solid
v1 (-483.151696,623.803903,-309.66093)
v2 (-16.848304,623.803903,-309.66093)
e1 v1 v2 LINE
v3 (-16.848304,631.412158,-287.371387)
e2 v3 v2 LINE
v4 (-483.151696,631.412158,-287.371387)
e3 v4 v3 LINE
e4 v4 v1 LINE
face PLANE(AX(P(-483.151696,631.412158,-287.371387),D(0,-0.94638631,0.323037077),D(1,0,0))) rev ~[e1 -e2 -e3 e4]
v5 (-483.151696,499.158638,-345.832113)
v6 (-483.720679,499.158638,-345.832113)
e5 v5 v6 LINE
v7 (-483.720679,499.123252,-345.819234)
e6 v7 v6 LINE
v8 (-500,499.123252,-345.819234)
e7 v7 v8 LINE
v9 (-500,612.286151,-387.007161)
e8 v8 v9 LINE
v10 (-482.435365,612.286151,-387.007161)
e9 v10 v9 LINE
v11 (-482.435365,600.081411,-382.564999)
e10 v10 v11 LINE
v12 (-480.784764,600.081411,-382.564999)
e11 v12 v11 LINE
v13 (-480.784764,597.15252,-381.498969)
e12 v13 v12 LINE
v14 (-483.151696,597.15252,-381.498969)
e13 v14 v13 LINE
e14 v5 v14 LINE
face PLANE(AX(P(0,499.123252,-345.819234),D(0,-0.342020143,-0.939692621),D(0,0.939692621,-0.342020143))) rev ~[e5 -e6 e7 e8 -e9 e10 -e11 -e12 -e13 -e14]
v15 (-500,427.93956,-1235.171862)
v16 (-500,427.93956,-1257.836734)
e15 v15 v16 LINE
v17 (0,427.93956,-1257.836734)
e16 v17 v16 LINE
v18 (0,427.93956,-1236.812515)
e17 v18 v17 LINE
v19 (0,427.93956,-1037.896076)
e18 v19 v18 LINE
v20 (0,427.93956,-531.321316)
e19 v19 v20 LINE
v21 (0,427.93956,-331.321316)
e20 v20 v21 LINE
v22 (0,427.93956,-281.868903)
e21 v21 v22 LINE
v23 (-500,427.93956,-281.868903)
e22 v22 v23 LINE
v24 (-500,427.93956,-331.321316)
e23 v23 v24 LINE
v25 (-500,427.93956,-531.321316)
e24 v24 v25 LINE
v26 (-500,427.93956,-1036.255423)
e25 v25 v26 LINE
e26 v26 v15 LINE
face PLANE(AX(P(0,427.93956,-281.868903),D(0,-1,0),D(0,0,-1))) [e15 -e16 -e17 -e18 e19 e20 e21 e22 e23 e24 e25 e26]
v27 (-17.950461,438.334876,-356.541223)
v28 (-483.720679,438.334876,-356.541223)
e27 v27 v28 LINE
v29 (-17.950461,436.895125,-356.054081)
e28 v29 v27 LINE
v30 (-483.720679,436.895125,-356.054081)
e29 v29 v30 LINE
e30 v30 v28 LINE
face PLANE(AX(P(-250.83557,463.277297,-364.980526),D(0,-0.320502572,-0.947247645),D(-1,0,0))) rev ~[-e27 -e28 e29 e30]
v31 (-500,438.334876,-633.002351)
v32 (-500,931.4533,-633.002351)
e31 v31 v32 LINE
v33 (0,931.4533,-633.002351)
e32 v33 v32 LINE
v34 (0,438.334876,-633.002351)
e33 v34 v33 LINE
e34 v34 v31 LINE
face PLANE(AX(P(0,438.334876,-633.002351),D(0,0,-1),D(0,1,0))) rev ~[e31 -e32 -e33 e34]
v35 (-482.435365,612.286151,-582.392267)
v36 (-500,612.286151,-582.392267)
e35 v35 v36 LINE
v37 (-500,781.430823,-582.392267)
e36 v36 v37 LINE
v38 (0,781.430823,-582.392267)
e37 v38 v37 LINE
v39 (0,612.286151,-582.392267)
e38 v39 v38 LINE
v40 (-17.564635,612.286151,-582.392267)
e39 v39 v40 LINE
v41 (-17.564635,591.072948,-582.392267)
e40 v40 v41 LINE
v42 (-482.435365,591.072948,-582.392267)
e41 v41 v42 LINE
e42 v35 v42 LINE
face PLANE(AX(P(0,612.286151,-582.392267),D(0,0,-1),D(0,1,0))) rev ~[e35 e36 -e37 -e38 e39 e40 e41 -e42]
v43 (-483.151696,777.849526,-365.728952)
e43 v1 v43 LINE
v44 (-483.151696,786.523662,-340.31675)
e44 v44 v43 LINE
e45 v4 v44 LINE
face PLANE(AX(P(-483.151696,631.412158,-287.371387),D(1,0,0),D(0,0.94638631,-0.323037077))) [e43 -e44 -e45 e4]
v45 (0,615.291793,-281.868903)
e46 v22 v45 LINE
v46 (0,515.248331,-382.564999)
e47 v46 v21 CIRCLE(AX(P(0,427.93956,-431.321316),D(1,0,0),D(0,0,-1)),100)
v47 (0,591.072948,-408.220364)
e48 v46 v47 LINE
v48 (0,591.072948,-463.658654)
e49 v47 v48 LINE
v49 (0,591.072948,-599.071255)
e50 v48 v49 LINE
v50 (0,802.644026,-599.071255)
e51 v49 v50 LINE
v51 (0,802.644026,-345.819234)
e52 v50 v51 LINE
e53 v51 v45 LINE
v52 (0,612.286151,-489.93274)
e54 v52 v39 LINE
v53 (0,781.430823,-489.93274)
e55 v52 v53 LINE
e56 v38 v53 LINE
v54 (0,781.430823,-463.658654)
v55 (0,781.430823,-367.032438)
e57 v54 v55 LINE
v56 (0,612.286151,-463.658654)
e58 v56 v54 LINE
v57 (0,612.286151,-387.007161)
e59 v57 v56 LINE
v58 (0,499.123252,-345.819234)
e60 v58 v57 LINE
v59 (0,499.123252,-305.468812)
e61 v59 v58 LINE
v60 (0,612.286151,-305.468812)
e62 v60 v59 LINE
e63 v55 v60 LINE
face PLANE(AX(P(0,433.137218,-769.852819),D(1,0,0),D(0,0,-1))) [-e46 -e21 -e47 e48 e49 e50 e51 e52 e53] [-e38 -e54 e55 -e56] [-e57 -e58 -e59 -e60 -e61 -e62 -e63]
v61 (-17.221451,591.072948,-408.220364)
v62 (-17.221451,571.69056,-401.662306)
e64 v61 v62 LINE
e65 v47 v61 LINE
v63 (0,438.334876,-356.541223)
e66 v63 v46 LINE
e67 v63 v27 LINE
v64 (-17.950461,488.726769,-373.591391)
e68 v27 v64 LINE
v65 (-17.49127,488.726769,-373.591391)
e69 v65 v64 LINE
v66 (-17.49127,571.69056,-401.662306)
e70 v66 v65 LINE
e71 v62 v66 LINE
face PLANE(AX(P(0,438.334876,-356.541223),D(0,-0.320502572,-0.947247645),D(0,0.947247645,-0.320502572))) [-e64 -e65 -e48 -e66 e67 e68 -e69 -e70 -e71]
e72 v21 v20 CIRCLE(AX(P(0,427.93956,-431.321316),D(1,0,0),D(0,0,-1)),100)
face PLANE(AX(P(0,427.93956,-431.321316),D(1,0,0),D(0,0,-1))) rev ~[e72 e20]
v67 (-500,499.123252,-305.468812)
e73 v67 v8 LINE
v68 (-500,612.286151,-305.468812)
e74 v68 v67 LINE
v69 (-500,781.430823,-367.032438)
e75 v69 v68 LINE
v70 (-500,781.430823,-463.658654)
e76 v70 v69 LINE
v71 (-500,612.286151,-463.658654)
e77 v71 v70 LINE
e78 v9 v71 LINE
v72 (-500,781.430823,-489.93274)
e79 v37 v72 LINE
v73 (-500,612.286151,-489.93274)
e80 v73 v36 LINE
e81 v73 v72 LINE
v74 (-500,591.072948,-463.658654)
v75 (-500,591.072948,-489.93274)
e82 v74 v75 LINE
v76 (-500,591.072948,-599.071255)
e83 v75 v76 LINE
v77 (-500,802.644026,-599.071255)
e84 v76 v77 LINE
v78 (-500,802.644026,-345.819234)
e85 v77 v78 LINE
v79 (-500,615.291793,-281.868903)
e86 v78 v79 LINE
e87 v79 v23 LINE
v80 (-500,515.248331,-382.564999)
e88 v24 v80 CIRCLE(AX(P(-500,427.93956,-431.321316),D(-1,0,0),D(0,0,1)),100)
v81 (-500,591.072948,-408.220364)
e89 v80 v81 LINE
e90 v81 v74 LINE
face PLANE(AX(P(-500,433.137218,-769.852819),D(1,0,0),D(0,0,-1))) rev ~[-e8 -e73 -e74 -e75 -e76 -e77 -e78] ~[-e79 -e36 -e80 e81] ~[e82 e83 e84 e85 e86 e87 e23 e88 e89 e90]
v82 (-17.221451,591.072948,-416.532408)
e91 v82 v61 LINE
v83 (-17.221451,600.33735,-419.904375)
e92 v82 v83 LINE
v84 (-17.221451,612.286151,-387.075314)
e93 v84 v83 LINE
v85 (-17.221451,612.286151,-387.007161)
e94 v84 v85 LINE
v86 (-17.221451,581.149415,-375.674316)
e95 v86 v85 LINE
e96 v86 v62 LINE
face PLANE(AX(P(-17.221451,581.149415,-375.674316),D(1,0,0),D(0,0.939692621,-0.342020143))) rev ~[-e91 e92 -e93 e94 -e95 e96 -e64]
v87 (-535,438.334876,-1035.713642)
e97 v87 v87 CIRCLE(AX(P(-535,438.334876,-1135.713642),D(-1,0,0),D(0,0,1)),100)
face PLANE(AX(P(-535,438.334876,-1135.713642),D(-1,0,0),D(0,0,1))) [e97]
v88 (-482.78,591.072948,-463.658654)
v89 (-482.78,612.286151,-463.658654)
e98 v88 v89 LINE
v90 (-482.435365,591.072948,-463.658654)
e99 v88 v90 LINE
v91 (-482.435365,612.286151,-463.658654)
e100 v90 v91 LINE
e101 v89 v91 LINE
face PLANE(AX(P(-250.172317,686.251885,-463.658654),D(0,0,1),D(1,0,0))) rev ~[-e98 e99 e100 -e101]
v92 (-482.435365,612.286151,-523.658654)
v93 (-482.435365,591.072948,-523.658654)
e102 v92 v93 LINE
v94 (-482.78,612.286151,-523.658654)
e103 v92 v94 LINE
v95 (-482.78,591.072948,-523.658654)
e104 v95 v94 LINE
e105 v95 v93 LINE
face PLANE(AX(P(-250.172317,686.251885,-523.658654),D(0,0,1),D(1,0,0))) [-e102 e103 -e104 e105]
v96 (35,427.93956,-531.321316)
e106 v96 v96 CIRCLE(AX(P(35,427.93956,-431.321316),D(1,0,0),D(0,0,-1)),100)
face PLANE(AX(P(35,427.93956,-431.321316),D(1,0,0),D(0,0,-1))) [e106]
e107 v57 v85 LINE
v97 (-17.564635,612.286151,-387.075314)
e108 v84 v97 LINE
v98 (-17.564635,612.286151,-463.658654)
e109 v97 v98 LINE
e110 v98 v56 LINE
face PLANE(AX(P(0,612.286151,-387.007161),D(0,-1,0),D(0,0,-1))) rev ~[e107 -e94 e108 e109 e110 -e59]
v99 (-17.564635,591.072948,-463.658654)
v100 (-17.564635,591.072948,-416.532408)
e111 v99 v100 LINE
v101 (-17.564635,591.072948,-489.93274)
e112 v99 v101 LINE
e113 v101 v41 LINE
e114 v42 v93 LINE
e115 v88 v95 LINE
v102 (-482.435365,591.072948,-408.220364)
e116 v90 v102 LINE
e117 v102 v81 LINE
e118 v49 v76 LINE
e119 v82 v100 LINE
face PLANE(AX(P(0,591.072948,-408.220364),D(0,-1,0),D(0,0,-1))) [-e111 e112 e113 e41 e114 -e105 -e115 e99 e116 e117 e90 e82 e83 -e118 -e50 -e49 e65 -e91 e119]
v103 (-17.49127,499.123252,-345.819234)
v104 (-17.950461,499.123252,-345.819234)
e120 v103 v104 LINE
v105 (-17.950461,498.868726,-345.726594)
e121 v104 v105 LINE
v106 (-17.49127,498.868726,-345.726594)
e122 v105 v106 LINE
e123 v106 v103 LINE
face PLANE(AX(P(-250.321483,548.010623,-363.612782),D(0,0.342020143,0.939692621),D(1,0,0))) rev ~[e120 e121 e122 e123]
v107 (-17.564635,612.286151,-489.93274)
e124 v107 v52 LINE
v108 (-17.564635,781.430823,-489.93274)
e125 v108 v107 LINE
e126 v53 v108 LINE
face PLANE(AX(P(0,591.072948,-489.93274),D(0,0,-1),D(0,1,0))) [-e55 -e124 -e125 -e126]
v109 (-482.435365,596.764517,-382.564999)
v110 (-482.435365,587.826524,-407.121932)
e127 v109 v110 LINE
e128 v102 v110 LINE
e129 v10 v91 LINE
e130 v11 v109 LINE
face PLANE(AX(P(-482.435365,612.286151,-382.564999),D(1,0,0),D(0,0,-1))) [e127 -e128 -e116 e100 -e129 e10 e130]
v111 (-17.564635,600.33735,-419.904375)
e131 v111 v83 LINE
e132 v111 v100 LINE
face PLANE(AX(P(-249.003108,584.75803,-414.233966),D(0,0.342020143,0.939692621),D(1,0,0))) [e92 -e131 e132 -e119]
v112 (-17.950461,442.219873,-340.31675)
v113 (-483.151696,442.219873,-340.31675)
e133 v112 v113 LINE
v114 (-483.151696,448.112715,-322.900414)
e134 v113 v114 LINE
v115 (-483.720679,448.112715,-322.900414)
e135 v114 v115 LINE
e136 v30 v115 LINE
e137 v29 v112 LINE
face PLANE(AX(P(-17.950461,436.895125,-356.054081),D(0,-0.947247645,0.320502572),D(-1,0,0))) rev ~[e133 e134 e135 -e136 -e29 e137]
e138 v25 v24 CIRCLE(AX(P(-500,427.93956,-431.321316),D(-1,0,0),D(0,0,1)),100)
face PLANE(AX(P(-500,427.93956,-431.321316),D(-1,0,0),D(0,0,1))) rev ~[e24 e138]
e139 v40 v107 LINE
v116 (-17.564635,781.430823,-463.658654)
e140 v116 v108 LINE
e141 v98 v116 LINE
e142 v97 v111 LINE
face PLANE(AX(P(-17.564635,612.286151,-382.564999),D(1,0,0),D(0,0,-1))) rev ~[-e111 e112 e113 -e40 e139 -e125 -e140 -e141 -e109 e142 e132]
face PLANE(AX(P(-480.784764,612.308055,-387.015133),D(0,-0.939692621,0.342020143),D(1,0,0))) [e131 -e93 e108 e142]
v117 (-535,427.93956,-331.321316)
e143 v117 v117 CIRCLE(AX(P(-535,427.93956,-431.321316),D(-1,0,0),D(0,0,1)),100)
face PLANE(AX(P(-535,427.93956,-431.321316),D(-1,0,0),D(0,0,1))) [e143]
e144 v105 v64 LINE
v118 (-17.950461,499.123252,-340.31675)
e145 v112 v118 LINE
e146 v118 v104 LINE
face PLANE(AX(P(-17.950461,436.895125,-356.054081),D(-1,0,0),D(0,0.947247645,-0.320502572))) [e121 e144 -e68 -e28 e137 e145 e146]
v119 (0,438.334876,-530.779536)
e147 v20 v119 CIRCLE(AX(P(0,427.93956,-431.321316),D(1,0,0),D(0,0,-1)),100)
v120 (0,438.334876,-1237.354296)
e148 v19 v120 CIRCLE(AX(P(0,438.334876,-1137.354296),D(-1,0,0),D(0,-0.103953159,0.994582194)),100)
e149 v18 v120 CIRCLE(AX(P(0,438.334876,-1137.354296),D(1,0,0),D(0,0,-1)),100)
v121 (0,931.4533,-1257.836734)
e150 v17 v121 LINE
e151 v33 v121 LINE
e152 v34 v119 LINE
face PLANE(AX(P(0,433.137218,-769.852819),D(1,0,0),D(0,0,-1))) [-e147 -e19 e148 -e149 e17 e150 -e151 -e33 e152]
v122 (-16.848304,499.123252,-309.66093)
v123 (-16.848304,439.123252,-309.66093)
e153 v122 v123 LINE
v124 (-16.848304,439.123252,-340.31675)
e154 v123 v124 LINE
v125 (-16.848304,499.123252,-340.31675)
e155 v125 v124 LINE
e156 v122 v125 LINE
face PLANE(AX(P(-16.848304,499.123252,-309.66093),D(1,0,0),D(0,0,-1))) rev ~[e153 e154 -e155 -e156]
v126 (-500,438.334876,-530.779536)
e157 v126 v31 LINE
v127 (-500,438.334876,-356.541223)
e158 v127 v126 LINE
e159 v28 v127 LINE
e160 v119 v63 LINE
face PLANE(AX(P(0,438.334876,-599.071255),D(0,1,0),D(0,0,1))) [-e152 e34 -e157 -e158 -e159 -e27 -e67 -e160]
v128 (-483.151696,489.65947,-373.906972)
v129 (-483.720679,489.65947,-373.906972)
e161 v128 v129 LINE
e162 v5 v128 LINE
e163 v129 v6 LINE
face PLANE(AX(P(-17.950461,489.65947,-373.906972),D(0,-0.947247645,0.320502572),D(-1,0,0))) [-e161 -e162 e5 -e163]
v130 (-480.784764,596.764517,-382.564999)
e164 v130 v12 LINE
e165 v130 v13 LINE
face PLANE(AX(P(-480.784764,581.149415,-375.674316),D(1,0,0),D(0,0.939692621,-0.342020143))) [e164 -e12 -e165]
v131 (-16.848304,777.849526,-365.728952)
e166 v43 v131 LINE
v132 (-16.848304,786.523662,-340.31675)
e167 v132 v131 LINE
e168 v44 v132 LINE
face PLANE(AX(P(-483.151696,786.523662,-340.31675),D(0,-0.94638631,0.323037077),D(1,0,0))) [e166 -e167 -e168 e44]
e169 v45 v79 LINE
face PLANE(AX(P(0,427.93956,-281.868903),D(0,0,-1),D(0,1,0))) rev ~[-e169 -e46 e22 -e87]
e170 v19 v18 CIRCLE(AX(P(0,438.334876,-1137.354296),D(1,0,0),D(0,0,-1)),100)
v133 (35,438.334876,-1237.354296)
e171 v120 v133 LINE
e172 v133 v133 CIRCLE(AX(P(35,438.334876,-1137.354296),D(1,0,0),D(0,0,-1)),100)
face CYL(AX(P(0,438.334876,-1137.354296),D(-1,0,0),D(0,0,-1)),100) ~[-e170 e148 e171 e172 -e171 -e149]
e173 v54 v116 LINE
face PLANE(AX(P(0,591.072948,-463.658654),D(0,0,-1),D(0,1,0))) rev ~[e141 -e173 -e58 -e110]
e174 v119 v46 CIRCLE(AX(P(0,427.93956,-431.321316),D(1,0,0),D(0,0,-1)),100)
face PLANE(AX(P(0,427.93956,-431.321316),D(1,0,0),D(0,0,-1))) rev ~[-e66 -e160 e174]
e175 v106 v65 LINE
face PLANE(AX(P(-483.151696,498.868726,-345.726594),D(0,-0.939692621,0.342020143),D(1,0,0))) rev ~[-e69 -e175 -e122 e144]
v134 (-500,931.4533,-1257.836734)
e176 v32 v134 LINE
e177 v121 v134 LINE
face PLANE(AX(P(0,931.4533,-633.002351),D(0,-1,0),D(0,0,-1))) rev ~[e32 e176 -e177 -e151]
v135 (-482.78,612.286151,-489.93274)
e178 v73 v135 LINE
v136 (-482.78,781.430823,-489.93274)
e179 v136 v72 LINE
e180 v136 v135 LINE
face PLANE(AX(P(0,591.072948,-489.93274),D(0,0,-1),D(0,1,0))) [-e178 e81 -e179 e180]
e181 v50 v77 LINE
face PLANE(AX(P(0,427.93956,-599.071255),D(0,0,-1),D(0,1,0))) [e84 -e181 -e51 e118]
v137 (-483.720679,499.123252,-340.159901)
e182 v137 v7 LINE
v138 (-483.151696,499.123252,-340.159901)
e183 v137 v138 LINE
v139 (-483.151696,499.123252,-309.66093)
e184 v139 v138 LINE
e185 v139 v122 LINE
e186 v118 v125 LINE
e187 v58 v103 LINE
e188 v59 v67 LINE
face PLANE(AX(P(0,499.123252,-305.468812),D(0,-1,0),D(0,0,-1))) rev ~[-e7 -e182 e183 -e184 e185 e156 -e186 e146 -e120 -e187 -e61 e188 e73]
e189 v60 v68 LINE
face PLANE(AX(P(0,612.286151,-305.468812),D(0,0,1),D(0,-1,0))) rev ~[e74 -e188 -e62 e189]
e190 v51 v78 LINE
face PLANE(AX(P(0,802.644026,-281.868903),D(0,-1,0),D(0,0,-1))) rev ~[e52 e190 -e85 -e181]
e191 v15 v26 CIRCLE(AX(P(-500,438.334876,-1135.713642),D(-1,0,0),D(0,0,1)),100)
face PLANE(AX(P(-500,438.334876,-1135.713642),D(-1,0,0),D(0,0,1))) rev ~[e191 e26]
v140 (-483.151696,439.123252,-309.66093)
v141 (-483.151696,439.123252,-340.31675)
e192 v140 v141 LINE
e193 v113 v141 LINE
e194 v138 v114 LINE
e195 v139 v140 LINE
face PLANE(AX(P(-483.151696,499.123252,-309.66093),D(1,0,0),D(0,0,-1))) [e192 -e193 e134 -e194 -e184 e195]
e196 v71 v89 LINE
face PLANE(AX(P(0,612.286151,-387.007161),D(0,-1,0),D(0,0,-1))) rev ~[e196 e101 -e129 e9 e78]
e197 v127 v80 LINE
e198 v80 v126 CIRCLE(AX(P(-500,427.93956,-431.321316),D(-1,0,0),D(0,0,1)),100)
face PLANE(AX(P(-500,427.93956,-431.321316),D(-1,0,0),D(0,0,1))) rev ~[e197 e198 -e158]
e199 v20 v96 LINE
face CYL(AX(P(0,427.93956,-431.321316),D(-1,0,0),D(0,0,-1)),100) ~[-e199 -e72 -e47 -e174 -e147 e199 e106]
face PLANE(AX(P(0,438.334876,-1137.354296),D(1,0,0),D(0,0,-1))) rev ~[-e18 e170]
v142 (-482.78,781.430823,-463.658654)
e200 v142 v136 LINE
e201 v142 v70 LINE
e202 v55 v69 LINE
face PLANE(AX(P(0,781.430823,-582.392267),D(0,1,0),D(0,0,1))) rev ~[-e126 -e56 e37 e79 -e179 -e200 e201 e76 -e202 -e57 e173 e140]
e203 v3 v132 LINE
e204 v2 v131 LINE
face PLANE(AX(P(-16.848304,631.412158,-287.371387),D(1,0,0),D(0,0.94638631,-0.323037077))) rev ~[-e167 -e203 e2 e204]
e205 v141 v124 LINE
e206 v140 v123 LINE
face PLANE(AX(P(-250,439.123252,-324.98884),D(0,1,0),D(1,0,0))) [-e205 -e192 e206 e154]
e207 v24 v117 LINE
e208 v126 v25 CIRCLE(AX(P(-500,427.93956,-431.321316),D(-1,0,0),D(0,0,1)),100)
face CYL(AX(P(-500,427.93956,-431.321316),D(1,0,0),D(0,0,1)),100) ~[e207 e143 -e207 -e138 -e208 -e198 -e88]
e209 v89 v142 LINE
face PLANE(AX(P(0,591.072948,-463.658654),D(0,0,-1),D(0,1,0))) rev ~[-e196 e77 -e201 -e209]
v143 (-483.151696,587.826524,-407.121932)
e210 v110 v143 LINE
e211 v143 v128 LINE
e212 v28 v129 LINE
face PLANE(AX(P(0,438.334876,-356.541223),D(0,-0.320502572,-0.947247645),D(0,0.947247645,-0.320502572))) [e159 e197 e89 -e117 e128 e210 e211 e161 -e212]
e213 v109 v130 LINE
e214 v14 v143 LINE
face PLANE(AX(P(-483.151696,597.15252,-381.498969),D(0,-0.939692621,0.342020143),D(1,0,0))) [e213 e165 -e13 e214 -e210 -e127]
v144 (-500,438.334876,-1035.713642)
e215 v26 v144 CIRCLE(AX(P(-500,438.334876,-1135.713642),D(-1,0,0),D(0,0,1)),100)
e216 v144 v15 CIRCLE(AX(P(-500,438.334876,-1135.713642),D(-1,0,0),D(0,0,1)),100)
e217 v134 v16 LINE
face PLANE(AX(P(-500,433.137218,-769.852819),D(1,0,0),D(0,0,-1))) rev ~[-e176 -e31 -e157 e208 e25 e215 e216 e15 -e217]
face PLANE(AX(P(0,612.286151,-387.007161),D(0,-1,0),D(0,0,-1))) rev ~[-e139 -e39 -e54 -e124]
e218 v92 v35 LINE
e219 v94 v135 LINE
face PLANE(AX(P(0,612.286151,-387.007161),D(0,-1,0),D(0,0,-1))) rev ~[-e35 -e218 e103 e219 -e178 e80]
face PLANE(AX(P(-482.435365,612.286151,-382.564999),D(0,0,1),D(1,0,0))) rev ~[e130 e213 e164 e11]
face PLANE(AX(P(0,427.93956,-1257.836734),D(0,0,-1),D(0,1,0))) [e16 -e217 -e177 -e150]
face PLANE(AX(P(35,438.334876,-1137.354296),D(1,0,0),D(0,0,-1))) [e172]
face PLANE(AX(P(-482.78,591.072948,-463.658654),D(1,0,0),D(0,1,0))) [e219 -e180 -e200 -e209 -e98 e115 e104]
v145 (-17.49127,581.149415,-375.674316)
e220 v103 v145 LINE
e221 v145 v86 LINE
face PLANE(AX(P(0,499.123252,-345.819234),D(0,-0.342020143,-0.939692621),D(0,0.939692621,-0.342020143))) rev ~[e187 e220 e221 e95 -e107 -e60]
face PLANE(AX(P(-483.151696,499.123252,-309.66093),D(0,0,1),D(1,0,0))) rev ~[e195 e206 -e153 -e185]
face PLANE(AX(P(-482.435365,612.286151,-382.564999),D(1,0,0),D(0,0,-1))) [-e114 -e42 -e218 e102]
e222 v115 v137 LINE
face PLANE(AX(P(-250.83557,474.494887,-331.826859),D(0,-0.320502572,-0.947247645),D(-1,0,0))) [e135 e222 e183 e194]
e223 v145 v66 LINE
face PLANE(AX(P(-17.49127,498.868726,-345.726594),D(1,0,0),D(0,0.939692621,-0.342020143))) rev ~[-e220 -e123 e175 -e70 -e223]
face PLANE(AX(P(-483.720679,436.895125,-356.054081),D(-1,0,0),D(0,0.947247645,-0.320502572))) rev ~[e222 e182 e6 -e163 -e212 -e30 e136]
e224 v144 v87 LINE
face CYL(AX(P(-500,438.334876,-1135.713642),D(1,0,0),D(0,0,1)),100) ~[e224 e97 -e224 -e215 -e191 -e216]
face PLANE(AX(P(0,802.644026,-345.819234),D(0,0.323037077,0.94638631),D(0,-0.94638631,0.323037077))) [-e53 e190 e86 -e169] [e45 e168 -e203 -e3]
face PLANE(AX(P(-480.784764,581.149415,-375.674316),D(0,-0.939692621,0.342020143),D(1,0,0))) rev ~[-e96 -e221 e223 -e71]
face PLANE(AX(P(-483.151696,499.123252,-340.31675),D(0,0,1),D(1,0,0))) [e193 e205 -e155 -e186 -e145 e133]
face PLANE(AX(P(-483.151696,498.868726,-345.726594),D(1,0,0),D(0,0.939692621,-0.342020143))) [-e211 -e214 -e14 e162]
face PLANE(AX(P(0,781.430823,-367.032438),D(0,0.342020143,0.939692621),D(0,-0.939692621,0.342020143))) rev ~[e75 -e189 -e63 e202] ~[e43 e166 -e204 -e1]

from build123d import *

# Parameters (mm, degrees)
IZIM2_W                     = 624.83438286
IZIM2_H                     = 493.118424104
Y_KSEKLIK_EKSTR_ZYON1_DEPTH = 500
IZIM4_R                     = 100
Y_KSEKLIK_EKSTR_ZYON2_DEPTH = 35
IZIM5_W                     = 975.967830922
IZIM5_H                     = 10.395315862
Y_KSEKLIK_EKSTR_ZYON3_DEPTH = 500
IZIM6_W                     = 317.202351564
IZIM6_H                     = 374.704466417
Y_KSEKLIK_EKSTR_ZYON4_DEPTH = 500
KES_EKSTR_ZYON1_DEPTH       = 500
KES_EKSTR_ZYON2_DEPTH       = 500
KES_EKSTR_ZYON3_DEPTH       = 500
IZIM11_R                    = 100
Y_KSEKLIK_EKSTR_ZYON5_DEPTH = 35
IZIM12_W                    = 466.303391348
IZIM12_H                    = 163.89871841
KES_EKSTR_ZYON4_DEPTH       = 35
IZIM17_W                    = 464.870730912
IZIM17_H                    = 199.827267797
KES_EKSTR_ZYON7_DEPTH       = 35
IZIM20_W                    = 465.660425645
IZIM20_H                    = 104.591429086
KES_EKSTR_ZYON8_DEPTH       = 35
IZIM21_W                    = 463.56331291
IZIM21_H                    = 33.15833205
KES_EKSTR_ZYON9_DEPTH       = 35
IZIM22_W                    = 465.770217683
IZIM22_H                    = 55.70279957
KES_EKSTR_ZYON10_DEPTH      = 35
IZIM23_W                    = 466.303391348
IZIM23_H                    = 30.655819637
KES_EKSTR_ZYON11_DEPTH      = 60
IZIM25_W                    = 26.274086754
IZIM25_H                    = 211.571078613
Y_KSEKLIK_EKSTR_ZYON6_DEPTH = 500
IZIM27_W                    = 465.215365456
IZIM27_H                    = 190.357875177
KES_EKSTR_ZYON12_DEPTH      = 60
IZIM28_R                    = 100
Y_KSEKLIK_EKSTR_ZYON7_DEPTH = 35


with BuildPart() as part:
    # Çizim2 → Yükseklik-Ekstrüzyon1 (new body)
    with BuildSketch(Plane(origin=(0, 0, 0), x_dir=(0, 0, -1), z_dir=(1, 0, 0))):
        with Locations((945.419542605, 684.894087956)):
            Rectangle(IZIM2_W, IZIM2_H)
    extrude(amount=-Y_KSEKLIK_EKSTR_ZYON1_DEPTH)

    # Çizim4 → Yükseklik-Ekstrüzyon2 (add)
    with BuildSketch(Plane(origin=(0, 0, 0), x_dir=(0, 0, -1), z_dir=(1, 0, 0))):
        with Locations((1137.354295612, 438.334875904)):
            Circle(IZIM4_R)
    extrude(amount=Y_KSEKLIK_EKSTR_ZYON2_DEPTH)

    # Çizim5 → Yükseklik-Ekstrüzyon3 (add)
    with BuildSketch(Plane(origin=(0, 0, 0), x_dir=(0, 0, -1), z_dir=(1, 0, 0))):
        with Locations((769.852818574, 433.137217973)):
            Rectangle(IZIM5_W, IZIM5_H)
    extrude(amount=-Y_KSEKLIK_EKSTR_ZYON3_DEPTH)

    # Çizim6 → Yükseklik-Ekstrüzyon4 (add)
    with BuildSketch(Plane(origin=(0, 0, 0), x_dir=(0, 0, -1), z_dir=(1, 0, 0))):
        with Locations((440.470078895, 615.291793251)):
            Rectangle(IZIM6_W, IZIM6_H)
    extrude(amount=-Y_KSEKLIK_EKSTR_ZYON4_DEPTH)

    # Çizim7 → Kes-Ekstrüzyon1 (cut)
    with BuildSketch(Plane(origin=(0, 0, 0), x_dir=(0, 0, -1), z_dir=(1, 0, 0))):
        Polygon((281.868903113, 802.644026459), (345.819234143, 802.644026459), (281.868903113, 615.29179325), align=None)
    extrude(amount=-KES_EKSTR_ZYON1_DEPTH, mode=Mode.SUBTRACT)

    # Çizim8 → Kes-Ekstrüzyon2 (cut)
    with BuildSketch(Plane(origin=(0, 0, 0), x_dir=(0, 0, -1), z_dir=(1, 0, 0))):
        Polygon((367.032437579, 781.430823023), (305.46881178, 612.286151281), (305.46881178, 499.123252309), (345.819234143, 499.123252309), (387.007160993, 612.286151281), (582.392266599, 612.286151281), (582.392266599, 781.430823023), align=None)
    extrude(amount=-KES_EKSTR_ZYON2_DEPTH, mode=Mode.SUBTRACT)

    # Çizim10 → Kes-Ekstrüzyon3 (cut)
    with BuildSketch(Plane(origin=(0, 0, 0), x_dir=(0, 0, -1), z_dir=(1, 0, 0))):
        Polygon((599.071254677, 438.334875904), (356.541223106, 438.334875904), (408.220364428, 591.072947846), (599.071254677, 591.072947846), align=None)
    extrude(amount=-KES_EKSTR_ZYON3_DEPTH, mode=Mode.SUBTRACT)

    # Çizim11 → Yükseklik-Ekstrüzyon5 (add)
    with BuildSketch(Plane(origin=(0, 0, 0), x_dir=(0, 0, -1), z_dir=(1, 0, 0))):
        with Locations((431.321316174, 427.939560042)):
            Circle(IZIM11_R)
    extrude(amount=Y_KSEKLIK_EKSTR_ZYON5_DEPTH)

    # Çizim12 → Kes-Ekstrüzyon4 (cut)
    with BuildSketch(Plane(origin=(0, -21.964844226, -64.349355999), x_dir=(1, 0, 0), z_dir=(0, 0.323037077, 0.94638631))):
        with Locations((-250, 772.34079435)):
            Rectangle(IZIM12_W, IZIM12_H)
    extrude(amount=-KES_EKSTR_ZYON4_DEPTH, mode=Mode.SUBTRACT)

    # Çizim17 → Kes-Ekstrüzyon7 (cut)
    with BuildSketch(Plane(origin=(0, 612.286151281, 0), x_dir=(1, 0, 0), z_dir=(0, 1, 0))):
        with Locations((-250, 482.478632701)):
            Rectangle(IZIM17_W, IZIM17_H)
    extrude(amount=-KES_EKSTR_ZYON7_DEPTH, mode=Mode.SUBTRACT)

    # Çizim20 → Kes-Ekstrüzyon8 (cut)
    with BuildSketch(Plane(origin=(0, -52.757830226, -144.950947246), x_dir=(1, 0, 0), z_dir=(0, 0.342020143, 0.939692621))):
        with Locations((-250.321482852, 639.324434245)):
            Rectangle(IZIM20_W, IZIM20_H)
    extrude(amount=-KES_EKSTR_ZYON8_DEPTH, mode=Mode.SUBTRACT)

    # Çizim21 → Kes-Ekstrüzyon9 (cut)
    with BuildSketch(Plane(origin=(0, -52.757830226, -144.950947246), x_dir=(1, 0, 0), z_dir=(0, 0.342020143, 0.939692621))):
        with Locations((-249.003107825, 691.169166414)):
            Rectangle(IZIM21_W, IZIM21_H)
    extrude(amount=-KES_EKSTR_ZYON9_DEPTH, mode=Mode.SUBTRACT)

    # Çizim22 → Kes-Ekstrüzyon10 (cut)
    with BuildSketch(Plane(origin=(0, -63.217651249, -186.84022059), x_dir=(-1, 0, 0), z_dir=(0, -0.320502572, -0.947247645))):
        with Locations((250.835570057, 555.815526561)):
            Rectangle(IZIM22_W, IZIM22_H)
    extrude(amount=-KES_EKSTR_ZYON10_DEPTH, mode=Mode.SUBTRACT)

    # Çizim23 → Kes-Ekstrüzyon11 (cut)
    with BuildSketch(Plane(origin=(0, 499.123252309, 0), x_dir=(1, 0, 0), z_dir=(0, 1, 0))):
        with Locations((-250, 324.988840267)):
            Rectangle(IZIM23_W, IZIM23_H)
    extrude(amount=-KES_EKSTR_ZYON11_DEPTH, mode=Mode.SUBTRACT)

    # Çizim25 → Yükseklik-Ekstrüzyon6 (add)
    with BuildSketch(Plane(origin=(0, 0, 0), x_dir=(0, 0, -1), z_dir=(1, 0, 0))):
        with Locations((476.795697093, 696.858487153)):
            Rectangle(IZIM25_W, IZIM25_H)
    extrude(amount=-Y_KSEKLIK_EKSTR_ZYON6_DEPTH)

    # Çizim27 → Kes-Ekstrüzyon12 (cut)
    with BuildSketch(Plane.XY.offset(-463.658653716)):
        with Locations((-250.172317272, 686.251885435)):
            Rectangle(IZIM27_W, IZIM27_H)
    extrude(amount=-KES_EKSTR_ZYON12_DEPTH, mode=Mode.SUBTRACT)

    # Çizim28 → Yükseklik-Ekstrüzyon7 (add)
    with BuildSketch(Plane.ZY.offset(500)):
        with Locations((-431.321316174, 427.939560042)):
            Circle(IZIM28_R)
        with Locations((-1135.713642363, 438.334875904)):
            Circle(IZIM28_R)
    extrude(amount=Y_KSEKLIK_EKSTR_ZYON7_DEPTH)


solid = part.part
